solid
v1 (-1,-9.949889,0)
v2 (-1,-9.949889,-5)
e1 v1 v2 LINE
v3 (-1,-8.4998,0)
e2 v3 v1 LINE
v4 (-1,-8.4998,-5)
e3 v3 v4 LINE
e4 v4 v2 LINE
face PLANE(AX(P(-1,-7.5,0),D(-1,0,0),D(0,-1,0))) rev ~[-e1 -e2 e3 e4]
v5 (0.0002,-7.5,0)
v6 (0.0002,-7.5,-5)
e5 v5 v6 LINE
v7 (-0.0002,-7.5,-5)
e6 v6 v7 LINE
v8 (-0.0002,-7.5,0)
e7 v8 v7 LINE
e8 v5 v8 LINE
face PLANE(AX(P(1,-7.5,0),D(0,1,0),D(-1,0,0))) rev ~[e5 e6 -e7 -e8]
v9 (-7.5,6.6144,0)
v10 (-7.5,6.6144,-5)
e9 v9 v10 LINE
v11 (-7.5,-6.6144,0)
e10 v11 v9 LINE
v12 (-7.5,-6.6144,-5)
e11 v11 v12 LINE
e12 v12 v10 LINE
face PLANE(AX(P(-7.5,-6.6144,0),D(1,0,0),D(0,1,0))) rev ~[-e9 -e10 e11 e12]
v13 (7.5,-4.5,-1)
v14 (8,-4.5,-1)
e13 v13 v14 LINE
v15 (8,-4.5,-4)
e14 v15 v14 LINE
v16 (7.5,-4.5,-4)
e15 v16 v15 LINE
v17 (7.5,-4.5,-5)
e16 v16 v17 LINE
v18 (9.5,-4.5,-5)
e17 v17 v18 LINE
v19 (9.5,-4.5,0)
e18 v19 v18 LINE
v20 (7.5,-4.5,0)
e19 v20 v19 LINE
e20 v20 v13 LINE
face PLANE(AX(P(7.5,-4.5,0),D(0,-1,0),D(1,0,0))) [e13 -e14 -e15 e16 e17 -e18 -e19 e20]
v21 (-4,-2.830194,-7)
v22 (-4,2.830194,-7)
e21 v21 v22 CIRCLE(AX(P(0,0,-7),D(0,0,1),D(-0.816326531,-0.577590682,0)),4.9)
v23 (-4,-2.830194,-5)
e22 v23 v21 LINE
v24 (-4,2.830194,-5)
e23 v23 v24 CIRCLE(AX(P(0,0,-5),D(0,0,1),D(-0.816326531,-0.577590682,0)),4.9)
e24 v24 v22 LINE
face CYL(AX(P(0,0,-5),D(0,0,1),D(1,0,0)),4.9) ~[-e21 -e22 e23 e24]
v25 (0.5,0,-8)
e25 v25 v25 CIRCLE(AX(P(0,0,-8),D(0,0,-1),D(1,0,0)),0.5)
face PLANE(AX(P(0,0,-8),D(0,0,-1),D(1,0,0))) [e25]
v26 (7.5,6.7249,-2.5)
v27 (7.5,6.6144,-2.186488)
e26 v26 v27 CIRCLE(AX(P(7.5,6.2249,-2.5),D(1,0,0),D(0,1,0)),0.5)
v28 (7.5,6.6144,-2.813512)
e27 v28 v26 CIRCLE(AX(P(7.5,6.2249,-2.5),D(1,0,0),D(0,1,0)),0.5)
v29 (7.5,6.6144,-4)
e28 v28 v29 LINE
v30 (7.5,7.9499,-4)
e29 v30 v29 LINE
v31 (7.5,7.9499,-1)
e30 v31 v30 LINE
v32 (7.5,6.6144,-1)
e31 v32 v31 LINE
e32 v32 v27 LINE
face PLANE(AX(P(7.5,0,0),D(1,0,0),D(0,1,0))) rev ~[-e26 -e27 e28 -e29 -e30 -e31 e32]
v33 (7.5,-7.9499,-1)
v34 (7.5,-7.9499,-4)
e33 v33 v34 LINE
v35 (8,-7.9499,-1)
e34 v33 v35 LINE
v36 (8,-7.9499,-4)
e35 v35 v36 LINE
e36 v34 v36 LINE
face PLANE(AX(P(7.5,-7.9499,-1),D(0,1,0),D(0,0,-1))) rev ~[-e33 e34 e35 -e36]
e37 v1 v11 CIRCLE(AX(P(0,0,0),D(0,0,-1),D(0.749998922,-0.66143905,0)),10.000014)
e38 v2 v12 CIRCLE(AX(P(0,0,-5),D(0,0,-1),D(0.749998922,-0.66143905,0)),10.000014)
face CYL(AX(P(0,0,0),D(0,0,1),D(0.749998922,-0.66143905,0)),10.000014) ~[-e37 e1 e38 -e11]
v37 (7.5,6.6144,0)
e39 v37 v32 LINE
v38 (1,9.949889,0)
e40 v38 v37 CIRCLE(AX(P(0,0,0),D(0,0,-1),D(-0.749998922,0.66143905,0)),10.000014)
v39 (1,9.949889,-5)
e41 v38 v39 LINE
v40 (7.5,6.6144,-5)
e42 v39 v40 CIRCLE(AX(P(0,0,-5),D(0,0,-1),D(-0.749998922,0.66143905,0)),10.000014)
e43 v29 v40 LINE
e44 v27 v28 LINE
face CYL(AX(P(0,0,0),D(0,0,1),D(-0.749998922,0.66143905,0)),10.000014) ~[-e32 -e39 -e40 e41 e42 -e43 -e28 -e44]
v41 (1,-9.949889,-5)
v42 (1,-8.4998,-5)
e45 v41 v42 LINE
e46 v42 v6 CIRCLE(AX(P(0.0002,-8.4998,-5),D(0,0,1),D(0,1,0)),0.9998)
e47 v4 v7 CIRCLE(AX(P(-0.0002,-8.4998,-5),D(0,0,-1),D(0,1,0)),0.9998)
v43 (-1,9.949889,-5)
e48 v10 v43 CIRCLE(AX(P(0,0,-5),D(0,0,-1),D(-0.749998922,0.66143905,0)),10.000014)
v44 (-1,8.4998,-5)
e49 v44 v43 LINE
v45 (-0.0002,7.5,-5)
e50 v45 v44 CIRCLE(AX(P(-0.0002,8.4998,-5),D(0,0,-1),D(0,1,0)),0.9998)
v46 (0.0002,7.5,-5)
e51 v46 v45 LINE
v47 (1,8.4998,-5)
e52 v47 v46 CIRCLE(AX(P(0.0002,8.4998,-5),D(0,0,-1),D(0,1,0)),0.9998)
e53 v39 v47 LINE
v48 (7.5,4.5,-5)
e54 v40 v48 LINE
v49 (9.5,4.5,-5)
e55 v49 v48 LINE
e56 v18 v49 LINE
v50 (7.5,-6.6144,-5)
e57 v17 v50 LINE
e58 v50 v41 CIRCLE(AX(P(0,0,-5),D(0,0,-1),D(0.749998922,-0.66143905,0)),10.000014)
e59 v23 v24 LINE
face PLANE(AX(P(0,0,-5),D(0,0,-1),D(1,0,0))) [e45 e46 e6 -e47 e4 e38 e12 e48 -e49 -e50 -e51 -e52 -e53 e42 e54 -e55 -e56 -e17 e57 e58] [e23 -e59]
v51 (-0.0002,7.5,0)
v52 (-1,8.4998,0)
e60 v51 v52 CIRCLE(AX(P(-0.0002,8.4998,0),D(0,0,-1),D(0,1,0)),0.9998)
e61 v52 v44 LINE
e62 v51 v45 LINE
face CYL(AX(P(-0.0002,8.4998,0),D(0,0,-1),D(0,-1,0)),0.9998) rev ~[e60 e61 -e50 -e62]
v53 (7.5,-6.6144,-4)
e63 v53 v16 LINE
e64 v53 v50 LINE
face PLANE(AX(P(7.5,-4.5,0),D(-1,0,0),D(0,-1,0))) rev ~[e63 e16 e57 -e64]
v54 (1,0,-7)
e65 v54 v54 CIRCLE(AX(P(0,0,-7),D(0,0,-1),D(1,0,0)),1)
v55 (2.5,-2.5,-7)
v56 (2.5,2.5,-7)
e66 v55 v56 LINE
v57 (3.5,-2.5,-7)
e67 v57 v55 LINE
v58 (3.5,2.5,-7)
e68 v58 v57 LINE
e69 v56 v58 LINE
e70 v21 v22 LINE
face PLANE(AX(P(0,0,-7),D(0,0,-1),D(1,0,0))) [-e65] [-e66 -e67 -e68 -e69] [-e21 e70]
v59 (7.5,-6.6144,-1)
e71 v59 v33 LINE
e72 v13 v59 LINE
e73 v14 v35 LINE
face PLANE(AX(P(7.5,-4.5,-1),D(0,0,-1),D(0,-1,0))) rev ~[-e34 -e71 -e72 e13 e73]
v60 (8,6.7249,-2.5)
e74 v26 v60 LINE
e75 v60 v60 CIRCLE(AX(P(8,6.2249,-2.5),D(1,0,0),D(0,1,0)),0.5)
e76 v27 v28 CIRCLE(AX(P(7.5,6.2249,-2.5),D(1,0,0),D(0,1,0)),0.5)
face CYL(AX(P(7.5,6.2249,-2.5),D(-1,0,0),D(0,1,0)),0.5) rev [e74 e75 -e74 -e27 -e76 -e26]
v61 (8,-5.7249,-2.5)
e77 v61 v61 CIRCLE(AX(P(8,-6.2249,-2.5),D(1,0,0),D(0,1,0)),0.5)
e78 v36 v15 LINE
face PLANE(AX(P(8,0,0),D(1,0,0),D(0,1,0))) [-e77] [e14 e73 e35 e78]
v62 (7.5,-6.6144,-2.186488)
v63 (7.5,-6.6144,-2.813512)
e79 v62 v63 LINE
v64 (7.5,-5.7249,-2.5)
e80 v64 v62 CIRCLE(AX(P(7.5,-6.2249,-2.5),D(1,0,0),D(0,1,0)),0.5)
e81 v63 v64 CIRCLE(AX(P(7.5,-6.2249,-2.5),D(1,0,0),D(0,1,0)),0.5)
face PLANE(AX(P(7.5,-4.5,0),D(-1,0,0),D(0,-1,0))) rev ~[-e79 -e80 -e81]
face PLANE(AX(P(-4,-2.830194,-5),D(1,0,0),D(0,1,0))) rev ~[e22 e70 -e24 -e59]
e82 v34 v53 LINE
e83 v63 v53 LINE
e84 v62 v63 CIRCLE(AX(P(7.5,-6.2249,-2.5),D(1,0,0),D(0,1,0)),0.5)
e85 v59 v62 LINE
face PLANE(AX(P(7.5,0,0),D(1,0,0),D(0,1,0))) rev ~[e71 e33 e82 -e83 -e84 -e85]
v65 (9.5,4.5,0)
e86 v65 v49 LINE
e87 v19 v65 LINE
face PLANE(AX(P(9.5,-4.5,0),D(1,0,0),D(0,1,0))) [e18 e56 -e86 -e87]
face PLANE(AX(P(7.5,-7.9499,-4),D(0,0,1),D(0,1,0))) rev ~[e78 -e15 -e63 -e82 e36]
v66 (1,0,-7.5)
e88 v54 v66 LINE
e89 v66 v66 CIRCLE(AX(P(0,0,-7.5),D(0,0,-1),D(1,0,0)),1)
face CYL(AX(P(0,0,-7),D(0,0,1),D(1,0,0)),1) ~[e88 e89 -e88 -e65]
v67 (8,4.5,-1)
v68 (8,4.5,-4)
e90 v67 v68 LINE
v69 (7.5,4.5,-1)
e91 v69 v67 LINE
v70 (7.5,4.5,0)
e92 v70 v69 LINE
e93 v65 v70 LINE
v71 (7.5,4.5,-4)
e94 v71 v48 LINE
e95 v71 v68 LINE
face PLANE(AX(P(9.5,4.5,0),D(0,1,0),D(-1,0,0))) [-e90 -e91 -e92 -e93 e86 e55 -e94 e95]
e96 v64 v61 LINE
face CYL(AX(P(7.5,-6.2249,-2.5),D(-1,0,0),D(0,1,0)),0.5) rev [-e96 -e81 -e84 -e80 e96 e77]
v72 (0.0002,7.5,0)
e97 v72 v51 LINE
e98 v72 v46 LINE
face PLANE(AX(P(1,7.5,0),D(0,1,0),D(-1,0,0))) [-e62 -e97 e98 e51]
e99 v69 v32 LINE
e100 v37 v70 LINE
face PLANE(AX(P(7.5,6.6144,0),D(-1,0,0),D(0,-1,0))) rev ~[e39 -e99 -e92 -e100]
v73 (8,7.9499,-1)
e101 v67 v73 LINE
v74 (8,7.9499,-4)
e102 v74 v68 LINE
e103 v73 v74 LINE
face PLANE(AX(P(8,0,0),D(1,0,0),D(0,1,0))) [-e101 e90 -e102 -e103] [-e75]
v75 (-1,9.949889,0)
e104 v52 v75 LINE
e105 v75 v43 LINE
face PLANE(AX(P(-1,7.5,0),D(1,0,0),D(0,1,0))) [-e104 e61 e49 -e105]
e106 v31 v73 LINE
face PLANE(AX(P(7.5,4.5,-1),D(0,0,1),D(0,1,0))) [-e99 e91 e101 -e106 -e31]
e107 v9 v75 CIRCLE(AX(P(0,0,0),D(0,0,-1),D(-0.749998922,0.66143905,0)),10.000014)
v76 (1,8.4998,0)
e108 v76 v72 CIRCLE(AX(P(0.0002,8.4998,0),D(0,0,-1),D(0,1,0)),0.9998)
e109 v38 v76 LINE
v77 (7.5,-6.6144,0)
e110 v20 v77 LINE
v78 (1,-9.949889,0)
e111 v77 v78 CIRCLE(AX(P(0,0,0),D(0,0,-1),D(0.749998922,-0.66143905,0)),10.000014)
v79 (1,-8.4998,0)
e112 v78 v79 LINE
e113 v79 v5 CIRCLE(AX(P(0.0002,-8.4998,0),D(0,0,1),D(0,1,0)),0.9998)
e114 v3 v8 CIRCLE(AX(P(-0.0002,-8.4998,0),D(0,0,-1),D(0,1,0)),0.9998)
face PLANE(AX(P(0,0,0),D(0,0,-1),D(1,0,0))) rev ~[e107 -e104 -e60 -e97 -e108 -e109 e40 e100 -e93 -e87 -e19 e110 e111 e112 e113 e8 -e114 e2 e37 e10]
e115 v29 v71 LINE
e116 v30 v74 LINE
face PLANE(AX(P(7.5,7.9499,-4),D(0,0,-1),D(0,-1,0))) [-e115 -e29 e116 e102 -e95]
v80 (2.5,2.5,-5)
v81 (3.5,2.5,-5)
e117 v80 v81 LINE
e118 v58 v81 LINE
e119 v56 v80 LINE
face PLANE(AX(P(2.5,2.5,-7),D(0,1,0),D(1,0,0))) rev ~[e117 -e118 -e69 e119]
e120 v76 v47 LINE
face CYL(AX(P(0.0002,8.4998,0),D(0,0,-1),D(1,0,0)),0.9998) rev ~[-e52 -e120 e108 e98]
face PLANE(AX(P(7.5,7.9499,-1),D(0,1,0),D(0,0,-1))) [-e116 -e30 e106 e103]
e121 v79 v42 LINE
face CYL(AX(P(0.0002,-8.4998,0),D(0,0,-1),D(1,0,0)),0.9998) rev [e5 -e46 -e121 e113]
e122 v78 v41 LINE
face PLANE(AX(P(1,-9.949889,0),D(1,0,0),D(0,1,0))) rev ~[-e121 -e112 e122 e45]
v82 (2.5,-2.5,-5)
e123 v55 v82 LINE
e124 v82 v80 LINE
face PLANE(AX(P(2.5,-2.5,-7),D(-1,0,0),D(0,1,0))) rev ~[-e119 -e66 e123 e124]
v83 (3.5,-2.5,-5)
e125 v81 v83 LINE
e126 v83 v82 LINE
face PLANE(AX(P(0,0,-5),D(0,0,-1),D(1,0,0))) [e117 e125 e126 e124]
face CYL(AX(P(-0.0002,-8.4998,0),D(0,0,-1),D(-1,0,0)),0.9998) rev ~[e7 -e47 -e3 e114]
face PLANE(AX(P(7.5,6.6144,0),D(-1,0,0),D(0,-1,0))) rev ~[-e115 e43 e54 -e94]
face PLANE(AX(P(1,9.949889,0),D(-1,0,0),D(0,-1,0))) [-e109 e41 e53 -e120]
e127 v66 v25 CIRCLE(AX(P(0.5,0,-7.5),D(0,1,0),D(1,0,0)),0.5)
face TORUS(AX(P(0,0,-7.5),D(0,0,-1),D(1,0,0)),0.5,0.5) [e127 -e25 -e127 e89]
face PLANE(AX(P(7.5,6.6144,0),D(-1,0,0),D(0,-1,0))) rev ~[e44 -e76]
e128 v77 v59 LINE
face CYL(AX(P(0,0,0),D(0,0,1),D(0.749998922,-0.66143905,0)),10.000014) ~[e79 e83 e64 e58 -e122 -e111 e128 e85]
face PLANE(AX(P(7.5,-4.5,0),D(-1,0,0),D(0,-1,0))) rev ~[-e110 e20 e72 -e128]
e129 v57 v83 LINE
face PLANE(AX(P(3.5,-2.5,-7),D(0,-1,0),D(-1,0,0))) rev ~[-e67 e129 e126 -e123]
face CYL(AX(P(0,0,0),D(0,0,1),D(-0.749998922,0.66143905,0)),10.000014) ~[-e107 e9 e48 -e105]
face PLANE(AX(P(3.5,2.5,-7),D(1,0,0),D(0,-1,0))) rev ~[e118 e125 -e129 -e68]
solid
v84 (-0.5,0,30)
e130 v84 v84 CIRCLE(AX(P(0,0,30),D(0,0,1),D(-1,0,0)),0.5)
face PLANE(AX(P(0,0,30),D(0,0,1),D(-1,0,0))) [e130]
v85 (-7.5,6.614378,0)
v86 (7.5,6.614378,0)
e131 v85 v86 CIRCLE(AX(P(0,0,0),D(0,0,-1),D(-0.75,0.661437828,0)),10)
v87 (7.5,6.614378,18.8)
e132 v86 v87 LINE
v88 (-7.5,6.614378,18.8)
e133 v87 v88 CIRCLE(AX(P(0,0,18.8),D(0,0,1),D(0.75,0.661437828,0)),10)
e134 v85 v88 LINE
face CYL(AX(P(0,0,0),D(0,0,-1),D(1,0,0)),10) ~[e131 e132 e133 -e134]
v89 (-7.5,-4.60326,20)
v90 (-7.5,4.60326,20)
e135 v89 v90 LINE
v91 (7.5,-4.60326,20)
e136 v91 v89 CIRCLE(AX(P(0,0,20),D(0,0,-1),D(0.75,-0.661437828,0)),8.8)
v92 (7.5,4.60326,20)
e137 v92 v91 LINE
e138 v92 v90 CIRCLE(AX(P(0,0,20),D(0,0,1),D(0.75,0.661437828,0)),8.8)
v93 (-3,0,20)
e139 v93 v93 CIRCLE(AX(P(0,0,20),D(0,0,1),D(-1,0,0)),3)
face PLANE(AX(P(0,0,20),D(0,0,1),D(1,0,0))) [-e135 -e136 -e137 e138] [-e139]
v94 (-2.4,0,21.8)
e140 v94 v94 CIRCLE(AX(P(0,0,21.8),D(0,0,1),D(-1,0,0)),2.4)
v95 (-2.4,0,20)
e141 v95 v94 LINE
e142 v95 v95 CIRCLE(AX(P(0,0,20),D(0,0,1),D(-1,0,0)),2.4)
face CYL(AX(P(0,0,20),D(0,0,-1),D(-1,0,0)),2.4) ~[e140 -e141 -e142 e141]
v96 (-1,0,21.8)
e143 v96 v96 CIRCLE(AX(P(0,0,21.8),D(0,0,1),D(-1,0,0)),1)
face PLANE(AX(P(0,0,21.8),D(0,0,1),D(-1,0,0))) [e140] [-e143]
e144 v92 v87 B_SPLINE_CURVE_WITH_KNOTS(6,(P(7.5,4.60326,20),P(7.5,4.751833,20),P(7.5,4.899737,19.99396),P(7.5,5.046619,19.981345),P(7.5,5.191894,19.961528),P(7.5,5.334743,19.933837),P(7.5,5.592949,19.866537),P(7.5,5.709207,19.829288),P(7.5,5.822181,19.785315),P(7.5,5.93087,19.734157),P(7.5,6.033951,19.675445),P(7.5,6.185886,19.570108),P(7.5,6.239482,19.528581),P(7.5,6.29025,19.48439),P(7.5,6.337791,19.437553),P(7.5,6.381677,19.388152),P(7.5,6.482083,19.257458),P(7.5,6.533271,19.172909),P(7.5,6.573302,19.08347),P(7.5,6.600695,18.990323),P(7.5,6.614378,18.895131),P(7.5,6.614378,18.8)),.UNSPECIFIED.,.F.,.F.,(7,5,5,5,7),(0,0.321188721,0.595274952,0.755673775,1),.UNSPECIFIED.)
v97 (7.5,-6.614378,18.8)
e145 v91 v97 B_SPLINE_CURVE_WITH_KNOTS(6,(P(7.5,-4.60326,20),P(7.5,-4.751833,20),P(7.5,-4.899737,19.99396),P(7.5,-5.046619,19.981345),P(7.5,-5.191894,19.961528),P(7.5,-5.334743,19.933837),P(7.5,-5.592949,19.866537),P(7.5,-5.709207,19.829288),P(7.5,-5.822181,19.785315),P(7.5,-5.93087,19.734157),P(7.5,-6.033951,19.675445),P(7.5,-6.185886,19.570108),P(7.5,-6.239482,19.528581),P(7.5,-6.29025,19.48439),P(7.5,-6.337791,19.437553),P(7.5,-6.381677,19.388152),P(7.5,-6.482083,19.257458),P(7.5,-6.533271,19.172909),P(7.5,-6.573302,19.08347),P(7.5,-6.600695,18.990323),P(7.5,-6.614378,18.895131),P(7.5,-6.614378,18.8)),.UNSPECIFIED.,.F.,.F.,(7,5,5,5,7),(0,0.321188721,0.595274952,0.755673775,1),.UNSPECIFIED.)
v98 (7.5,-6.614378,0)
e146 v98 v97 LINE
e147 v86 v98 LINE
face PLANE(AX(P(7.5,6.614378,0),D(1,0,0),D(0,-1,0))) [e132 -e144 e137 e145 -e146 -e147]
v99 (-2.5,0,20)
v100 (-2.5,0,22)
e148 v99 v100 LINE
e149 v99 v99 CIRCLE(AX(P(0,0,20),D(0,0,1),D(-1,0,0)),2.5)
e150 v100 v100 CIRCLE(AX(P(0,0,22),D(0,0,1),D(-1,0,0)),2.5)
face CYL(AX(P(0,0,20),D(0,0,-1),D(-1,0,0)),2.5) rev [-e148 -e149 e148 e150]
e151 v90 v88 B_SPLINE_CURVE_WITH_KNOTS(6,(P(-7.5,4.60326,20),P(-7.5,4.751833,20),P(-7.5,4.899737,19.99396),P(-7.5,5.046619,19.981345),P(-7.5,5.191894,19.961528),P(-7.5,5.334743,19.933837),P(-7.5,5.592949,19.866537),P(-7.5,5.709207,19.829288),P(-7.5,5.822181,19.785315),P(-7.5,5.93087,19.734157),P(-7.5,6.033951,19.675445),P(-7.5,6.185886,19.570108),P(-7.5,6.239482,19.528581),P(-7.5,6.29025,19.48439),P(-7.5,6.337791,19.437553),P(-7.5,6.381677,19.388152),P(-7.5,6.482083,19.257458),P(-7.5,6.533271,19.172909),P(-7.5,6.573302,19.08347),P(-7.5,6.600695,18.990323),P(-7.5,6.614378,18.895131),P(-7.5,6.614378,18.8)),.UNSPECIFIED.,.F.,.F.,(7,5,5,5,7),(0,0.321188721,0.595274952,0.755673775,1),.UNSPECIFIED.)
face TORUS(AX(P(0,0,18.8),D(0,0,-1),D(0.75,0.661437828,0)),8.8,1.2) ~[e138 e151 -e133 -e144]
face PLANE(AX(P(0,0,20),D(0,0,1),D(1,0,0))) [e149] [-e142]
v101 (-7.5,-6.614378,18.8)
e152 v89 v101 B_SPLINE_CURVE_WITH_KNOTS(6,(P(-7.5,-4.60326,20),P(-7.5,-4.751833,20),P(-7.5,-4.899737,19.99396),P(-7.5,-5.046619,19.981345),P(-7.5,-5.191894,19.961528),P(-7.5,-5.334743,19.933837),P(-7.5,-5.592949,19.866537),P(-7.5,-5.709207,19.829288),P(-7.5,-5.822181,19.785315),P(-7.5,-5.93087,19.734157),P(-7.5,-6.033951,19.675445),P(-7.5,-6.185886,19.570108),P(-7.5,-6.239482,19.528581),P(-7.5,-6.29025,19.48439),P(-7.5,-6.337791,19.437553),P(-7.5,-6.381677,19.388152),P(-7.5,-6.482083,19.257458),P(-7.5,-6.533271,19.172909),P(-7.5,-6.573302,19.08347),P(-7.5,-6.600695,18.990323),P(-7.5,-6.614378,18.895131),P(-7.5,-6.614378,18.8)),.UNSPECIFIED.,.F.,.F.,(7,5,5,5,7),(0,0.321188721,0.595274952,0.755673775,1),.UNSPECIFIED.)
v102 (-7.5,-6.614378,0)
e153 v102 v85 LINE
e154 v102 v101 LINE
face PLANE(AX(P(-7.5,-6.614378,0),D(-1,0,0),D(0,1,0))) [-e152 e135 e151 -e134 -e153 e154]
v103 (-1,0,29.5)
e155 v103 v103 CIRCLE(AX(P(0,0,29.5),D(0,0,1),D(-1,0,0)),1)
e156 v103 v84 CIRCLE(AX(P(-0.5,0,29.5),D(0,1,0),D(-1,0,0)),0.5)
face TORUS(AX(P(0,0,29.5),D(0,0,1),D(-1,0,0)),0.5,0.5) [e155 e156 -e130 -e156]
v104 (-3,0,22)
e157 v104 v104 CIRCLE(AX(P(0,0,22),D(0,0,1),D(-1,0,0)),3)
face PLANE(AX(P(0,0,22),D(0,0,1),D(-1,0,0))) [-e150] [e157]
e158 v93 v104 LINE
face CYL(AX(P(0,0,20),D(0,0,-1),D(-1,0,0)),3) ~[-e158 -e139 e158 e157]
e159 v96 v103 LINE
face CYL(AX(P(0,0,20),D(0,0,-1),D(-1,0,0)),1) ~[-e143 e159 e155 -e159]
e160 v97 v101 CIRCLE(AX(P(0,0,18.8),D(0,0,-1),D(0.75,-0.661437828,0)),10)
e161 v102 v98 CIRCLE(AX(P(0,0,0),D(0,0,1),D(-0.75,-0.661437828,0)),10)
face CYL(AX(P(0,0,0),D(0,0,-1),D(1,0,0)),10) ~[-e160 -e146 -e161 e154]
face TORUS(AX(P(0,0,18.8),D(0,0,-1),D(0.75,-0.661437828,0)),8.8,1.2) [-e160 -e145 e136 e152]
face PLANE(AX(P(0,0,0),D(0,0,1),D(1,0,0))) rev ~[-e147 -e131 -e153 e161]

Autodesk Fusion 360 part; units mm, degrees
sketch "Sketch1" plane through (0, 0, 0) normal (0, 0, 1) x (1, 0, 0)
  line L0 (7.5, -10) -> (-7.5, -10)
  line L1 (-7.5, -10) -> (-7.5, 10)
  line L2 (-7.5, 10) -> (7.5, 10)
  line L3 (7.5, 10) -> (7.5, -10)
  line L4 (7.5, -10) -> (-7.5, 10) construction
  line L5 (-7.5, -10) -> (7.5, 10) construction
  circle A0 centre (0, 0) radius 10
  dimension "d1" = 15
  dimension "d2" = 20
  dimension "d3" = 20
extrude "Extrude1" add sketch "Sketch1" along normal blind 20 contours L1 L3 A0 makes body 1
sketch "Sketch2" plane through (0, 0, 20) normal (0, 0, 1) x (-1, 0, 0)
  arc A0 (7.5, 6.6144) -> (-7.5, 6.6144) centre (0, 0) ccw
  line L0 (-7.5, 6.6144) -> (-7.5, -6.6144)
  arc A1 (-7.5, -6.6144) -> (7.5, -6.6144) centre (0, 0) ccw
  line L1 (7.5, -6.6144) -> (7.5, 6.6144)
  circle A2 centre (0, 0) radius 3
  circle A3 centre (0, 0) radius 1
  circle A4 centre (0, 0) radius 2.5
  circle A5 centre (0, 0) radius 2.4
  dimension "d6" = 6
  dimension "d7" = 2
  dimension "d8" = 0.5
  dimension "d14" = 0.1
extrude "Extrude2" add sketch "Sketch2" along normal blind 2 contours A2 bodies 1
extrude "Extrude3" add sketch "Sketch2" along normal blind 10 contours A3 bodies 1
fillet "Fillet1" radius 0.5 1 edges at (0.9323, 0.3616, 30) on bodies 1
extrude "Extrude4" add sketch "Sketch2" along normal blind 1.8 contours A5 bodies 1
fillet "Fillet2" radius 1.2 2 edges at (0, -10, 20) (0, 10, 20) on bodies 1
sketch "Sketch3" plane through (0, 0, 0) normal (0, 0, -1) x (1, 0, 0)
  arc A0 (7.5, 6.6144) -> (-7.5, 6.6144) centre (0, 0) ccw
  line L0 (-7.5, 6.6144) -> (-7.5, -6.6144)
  arc A1 (-7.5, -6.6144) -> (7.5, -6.6144) centre (0, 0) ccw
  line L1 (7.5, -6.6144) -> (7.5, 6.6144)
  line L2 (-1, -10) -> (1, -10)
  line L3 (1, -10) -> (1, -7.5)
  line L4 (1, -7.5) -> (-1, -7.5)
  line L5 (-1, -7.5) -> (-1, -10)
  line L6 (0, 0) -> (-7.5, 0) construction
  line L7 (1, 10) -> (1, 7.5)
  line L8 (1, 7.5) -> (-1, 7.5)
  line L9 (-1, 7.5) -> (-1, 10)
  line L10 (-1, 10) -> (1, 10)
  line L11 (9.5, -4.5) -> (7.5, -4.5)
  line L12 (7.5, -4.5) -> (7.5, 4.5)
  line L13 (7.5, 4.5) -> (9.5, 4.5)
  line L14 (9.5, 4.5) -> (9.5, -4.5)
  line L15 (9.5, -4.5) -> (7.5, 4.5) construction
  line L16 (7.5, -4.5) -> (9.5, 4.5) construction
  point P0 (8.5, 0)
  dimension "d18" = 2.5
  dimension "d22" = 9
  dimension "d23" = 2
extrude "Extrude5" add sketch "Sketch3" along normal blind 5 separate body contours A0 L0 A1 L1 L3 L4 L5 L7 L8 L9 L12 | L1 L11 L12 L13 L14 makes body 2
fillet "Fillet3" radius 1 4 edges at (1, -7.5, -2.5) (-1, -7.5, -2.5) (1, 7.5, -2.5) (-1, 7.5, -2.5) on bodies 2
sketch "Sketch4" plane through (0, 0, -5) normal (0, 0, -1) x (1, 0, 0)
  line L0 (7.5, 4.5) -> (7.5, 6.6144)
  arc A0 (7.5, 6.6144) -> (1, 9.9499) centre (0, 0) ccw
  line L1 (1, 9.9499) -> (1, 8.5)
  arc A1 (0, 7.5) -> (1, 8.5) centre (0, 8.5) ccw
  arc A2 (-1, 8.5) -> (0, 7.5) centre (0, 8.5) ccw
  line L2 (-1, 8.5) -> (-1, 9.9499)
  arc A3 (-1, 9.9499) -> (-7.5, 6.6144) centre (0, 0) ccw
  line L3 (-7.5, 6.6144) -> (-7.5, -6.6144)
  arc A4 (-7.5, -6.6144) -> (-1, -9.9499) centre (0, 0) ccw
  line L4 (-1, -9.9499) -> (-1, -8.5)
  arc A5 (0, -7.5) -> (-1, -8.5) centre (0, -8.5) ccw
  arc A6 (1, -8.5) -> (0, -7.5) centre (0, -8.5) ccw
  line L5 (1, -8.5) -> (1, -9.9499)
  arc A7 (1, -9.9499) -> (7.5, -6.6144) centre (0, 0) ccw
  line L6 (7.5, -6.6144) -> (7.5, -4.5)
  line L7 (7.5, -4.5) -> (9.5, -4.5)
  line L8 (9.5, -4.5) -> (9.5, 4.5)
  line L9 (9.5, 4.5) -> (7.5, 4.5)
  circle A8 centre (0, 0) radius 4.9
  line L10 (-4, 5.5) -> (-4, -5.5)
  dimension "d24" = 9.8
  dimension "d26" = 4
extrude "Extrude6" add sketch "Sketch4" along normal blind 2 contours A8 L10 picked at (-0.1396, 1.4091) bodies 2
sketch "Sketch5" plane through (0, 0, -7) normal (0, 0, -1) x (1, 0, 0)
  arc A0 (-4, -2.8302) -> (-4, 2.8302) centre (0, 0) ccw
  line L0 (-4, 2.8302) -> (-4, -2.8302)
  circle A1 centre (0, 0) radius 1
  line L1 (2.5, -2.5) -> (3.5, -2.5)
  line L2 (3.5, -2.5) -> (3.5, 2.5)
  line L3 (3.5, 2.5) -> (2.5, 2.5)
  line L4 (2.5, 2.5) -> (2.5, -2.5)
  line L5 (2.5, -2.5) -> (3.5, 2.5) construction
  line L6 (3.5, -2.5) -> (2.5, 2.5) construction
  line L7 (3, 0) -> (0, 0) construction
  point P0 (3, 0)
  dimension "d29" = 2
  dimension "d33" = 1
  dimension "d34" = 5
  dimension "d35" = 3
extrude "Extrude8" cut sketch "Sketch5" against normal blind 2 contours L1 L2 L3 L4 bodies 2
extrude "Extrude7" add sketch "Sketch5" along normal blind 1 contours A1 bodies 2
fillet "Fillet4" radius 0.5 1 edges at (-0.9323, 0.3616, -8) on bodies 2
sketch "Sketch6" plane through (7.5, 0, 0) normal (1, 0, 0) x (0, 1, 0)
  line L0 (-4.5, 0) -> (-6.6144, 0)
  line L1 (-6.6144, 0) -> (-6.6144, -5) construction
  line L2 (-6.6144, -5) -> (-4.5, -5)
  line L3 (-4.5, -5) -> (-4.5, 0)
  line L4 (6.6144, 0) -> (4.5, 0)
  line L5 (4.5, 0) -> (4.5, -5)
  line L6 (4.5, -5) -> (6.6144, -5)
  line L7 (6.6144, -5) -> (6.6144, 0) construction
  line L8 (-4.5, -1) -> (-7.9499, -1)
  line L9 (-7.9499, -1) -> (-7.9499, -4)
  line L10 (-7.9499, -4) -> (-4.5, -4)
  line L11 (-4.5, -4) -> (-4.5, -1)
  line L12 (-9.9499, 0) -> (-9.9499, -5)
  line L13 (-9.9499, 0) -> (-6.6144, 0)
  line L14 (-9.9499, -5) -> (-6.6144, -5)
  line L15 (4.5, -5) -> (-4.5, -5)
  line L16 (0, 0) -> (0, -5) construction
  line L17 (7.9499, -4) -> (4.5, -4)
  line L18 (4.5, -4) -> (4.5, -1)
  line L19 (4.5, -1) -> (7.9499, -1)
  line L20 (7.9499, -1) -> (7.9499, -4)
  circle A0 centre (-6.2249, -2.5) radius 0.5
  circle A1 centre (6.2249, -2.5) radius 0.5
  dimension "d38" = 1
  dimension "d39" = 1
  dimension "d42" = 2
  dimension "d43" = 1
extrude "Extrude9" add sketch "Sketch6" along normal blind 0.5 contours L5 L17 L18 L19 L20 | L3 L8 L9 L10 L11 bodies 2
